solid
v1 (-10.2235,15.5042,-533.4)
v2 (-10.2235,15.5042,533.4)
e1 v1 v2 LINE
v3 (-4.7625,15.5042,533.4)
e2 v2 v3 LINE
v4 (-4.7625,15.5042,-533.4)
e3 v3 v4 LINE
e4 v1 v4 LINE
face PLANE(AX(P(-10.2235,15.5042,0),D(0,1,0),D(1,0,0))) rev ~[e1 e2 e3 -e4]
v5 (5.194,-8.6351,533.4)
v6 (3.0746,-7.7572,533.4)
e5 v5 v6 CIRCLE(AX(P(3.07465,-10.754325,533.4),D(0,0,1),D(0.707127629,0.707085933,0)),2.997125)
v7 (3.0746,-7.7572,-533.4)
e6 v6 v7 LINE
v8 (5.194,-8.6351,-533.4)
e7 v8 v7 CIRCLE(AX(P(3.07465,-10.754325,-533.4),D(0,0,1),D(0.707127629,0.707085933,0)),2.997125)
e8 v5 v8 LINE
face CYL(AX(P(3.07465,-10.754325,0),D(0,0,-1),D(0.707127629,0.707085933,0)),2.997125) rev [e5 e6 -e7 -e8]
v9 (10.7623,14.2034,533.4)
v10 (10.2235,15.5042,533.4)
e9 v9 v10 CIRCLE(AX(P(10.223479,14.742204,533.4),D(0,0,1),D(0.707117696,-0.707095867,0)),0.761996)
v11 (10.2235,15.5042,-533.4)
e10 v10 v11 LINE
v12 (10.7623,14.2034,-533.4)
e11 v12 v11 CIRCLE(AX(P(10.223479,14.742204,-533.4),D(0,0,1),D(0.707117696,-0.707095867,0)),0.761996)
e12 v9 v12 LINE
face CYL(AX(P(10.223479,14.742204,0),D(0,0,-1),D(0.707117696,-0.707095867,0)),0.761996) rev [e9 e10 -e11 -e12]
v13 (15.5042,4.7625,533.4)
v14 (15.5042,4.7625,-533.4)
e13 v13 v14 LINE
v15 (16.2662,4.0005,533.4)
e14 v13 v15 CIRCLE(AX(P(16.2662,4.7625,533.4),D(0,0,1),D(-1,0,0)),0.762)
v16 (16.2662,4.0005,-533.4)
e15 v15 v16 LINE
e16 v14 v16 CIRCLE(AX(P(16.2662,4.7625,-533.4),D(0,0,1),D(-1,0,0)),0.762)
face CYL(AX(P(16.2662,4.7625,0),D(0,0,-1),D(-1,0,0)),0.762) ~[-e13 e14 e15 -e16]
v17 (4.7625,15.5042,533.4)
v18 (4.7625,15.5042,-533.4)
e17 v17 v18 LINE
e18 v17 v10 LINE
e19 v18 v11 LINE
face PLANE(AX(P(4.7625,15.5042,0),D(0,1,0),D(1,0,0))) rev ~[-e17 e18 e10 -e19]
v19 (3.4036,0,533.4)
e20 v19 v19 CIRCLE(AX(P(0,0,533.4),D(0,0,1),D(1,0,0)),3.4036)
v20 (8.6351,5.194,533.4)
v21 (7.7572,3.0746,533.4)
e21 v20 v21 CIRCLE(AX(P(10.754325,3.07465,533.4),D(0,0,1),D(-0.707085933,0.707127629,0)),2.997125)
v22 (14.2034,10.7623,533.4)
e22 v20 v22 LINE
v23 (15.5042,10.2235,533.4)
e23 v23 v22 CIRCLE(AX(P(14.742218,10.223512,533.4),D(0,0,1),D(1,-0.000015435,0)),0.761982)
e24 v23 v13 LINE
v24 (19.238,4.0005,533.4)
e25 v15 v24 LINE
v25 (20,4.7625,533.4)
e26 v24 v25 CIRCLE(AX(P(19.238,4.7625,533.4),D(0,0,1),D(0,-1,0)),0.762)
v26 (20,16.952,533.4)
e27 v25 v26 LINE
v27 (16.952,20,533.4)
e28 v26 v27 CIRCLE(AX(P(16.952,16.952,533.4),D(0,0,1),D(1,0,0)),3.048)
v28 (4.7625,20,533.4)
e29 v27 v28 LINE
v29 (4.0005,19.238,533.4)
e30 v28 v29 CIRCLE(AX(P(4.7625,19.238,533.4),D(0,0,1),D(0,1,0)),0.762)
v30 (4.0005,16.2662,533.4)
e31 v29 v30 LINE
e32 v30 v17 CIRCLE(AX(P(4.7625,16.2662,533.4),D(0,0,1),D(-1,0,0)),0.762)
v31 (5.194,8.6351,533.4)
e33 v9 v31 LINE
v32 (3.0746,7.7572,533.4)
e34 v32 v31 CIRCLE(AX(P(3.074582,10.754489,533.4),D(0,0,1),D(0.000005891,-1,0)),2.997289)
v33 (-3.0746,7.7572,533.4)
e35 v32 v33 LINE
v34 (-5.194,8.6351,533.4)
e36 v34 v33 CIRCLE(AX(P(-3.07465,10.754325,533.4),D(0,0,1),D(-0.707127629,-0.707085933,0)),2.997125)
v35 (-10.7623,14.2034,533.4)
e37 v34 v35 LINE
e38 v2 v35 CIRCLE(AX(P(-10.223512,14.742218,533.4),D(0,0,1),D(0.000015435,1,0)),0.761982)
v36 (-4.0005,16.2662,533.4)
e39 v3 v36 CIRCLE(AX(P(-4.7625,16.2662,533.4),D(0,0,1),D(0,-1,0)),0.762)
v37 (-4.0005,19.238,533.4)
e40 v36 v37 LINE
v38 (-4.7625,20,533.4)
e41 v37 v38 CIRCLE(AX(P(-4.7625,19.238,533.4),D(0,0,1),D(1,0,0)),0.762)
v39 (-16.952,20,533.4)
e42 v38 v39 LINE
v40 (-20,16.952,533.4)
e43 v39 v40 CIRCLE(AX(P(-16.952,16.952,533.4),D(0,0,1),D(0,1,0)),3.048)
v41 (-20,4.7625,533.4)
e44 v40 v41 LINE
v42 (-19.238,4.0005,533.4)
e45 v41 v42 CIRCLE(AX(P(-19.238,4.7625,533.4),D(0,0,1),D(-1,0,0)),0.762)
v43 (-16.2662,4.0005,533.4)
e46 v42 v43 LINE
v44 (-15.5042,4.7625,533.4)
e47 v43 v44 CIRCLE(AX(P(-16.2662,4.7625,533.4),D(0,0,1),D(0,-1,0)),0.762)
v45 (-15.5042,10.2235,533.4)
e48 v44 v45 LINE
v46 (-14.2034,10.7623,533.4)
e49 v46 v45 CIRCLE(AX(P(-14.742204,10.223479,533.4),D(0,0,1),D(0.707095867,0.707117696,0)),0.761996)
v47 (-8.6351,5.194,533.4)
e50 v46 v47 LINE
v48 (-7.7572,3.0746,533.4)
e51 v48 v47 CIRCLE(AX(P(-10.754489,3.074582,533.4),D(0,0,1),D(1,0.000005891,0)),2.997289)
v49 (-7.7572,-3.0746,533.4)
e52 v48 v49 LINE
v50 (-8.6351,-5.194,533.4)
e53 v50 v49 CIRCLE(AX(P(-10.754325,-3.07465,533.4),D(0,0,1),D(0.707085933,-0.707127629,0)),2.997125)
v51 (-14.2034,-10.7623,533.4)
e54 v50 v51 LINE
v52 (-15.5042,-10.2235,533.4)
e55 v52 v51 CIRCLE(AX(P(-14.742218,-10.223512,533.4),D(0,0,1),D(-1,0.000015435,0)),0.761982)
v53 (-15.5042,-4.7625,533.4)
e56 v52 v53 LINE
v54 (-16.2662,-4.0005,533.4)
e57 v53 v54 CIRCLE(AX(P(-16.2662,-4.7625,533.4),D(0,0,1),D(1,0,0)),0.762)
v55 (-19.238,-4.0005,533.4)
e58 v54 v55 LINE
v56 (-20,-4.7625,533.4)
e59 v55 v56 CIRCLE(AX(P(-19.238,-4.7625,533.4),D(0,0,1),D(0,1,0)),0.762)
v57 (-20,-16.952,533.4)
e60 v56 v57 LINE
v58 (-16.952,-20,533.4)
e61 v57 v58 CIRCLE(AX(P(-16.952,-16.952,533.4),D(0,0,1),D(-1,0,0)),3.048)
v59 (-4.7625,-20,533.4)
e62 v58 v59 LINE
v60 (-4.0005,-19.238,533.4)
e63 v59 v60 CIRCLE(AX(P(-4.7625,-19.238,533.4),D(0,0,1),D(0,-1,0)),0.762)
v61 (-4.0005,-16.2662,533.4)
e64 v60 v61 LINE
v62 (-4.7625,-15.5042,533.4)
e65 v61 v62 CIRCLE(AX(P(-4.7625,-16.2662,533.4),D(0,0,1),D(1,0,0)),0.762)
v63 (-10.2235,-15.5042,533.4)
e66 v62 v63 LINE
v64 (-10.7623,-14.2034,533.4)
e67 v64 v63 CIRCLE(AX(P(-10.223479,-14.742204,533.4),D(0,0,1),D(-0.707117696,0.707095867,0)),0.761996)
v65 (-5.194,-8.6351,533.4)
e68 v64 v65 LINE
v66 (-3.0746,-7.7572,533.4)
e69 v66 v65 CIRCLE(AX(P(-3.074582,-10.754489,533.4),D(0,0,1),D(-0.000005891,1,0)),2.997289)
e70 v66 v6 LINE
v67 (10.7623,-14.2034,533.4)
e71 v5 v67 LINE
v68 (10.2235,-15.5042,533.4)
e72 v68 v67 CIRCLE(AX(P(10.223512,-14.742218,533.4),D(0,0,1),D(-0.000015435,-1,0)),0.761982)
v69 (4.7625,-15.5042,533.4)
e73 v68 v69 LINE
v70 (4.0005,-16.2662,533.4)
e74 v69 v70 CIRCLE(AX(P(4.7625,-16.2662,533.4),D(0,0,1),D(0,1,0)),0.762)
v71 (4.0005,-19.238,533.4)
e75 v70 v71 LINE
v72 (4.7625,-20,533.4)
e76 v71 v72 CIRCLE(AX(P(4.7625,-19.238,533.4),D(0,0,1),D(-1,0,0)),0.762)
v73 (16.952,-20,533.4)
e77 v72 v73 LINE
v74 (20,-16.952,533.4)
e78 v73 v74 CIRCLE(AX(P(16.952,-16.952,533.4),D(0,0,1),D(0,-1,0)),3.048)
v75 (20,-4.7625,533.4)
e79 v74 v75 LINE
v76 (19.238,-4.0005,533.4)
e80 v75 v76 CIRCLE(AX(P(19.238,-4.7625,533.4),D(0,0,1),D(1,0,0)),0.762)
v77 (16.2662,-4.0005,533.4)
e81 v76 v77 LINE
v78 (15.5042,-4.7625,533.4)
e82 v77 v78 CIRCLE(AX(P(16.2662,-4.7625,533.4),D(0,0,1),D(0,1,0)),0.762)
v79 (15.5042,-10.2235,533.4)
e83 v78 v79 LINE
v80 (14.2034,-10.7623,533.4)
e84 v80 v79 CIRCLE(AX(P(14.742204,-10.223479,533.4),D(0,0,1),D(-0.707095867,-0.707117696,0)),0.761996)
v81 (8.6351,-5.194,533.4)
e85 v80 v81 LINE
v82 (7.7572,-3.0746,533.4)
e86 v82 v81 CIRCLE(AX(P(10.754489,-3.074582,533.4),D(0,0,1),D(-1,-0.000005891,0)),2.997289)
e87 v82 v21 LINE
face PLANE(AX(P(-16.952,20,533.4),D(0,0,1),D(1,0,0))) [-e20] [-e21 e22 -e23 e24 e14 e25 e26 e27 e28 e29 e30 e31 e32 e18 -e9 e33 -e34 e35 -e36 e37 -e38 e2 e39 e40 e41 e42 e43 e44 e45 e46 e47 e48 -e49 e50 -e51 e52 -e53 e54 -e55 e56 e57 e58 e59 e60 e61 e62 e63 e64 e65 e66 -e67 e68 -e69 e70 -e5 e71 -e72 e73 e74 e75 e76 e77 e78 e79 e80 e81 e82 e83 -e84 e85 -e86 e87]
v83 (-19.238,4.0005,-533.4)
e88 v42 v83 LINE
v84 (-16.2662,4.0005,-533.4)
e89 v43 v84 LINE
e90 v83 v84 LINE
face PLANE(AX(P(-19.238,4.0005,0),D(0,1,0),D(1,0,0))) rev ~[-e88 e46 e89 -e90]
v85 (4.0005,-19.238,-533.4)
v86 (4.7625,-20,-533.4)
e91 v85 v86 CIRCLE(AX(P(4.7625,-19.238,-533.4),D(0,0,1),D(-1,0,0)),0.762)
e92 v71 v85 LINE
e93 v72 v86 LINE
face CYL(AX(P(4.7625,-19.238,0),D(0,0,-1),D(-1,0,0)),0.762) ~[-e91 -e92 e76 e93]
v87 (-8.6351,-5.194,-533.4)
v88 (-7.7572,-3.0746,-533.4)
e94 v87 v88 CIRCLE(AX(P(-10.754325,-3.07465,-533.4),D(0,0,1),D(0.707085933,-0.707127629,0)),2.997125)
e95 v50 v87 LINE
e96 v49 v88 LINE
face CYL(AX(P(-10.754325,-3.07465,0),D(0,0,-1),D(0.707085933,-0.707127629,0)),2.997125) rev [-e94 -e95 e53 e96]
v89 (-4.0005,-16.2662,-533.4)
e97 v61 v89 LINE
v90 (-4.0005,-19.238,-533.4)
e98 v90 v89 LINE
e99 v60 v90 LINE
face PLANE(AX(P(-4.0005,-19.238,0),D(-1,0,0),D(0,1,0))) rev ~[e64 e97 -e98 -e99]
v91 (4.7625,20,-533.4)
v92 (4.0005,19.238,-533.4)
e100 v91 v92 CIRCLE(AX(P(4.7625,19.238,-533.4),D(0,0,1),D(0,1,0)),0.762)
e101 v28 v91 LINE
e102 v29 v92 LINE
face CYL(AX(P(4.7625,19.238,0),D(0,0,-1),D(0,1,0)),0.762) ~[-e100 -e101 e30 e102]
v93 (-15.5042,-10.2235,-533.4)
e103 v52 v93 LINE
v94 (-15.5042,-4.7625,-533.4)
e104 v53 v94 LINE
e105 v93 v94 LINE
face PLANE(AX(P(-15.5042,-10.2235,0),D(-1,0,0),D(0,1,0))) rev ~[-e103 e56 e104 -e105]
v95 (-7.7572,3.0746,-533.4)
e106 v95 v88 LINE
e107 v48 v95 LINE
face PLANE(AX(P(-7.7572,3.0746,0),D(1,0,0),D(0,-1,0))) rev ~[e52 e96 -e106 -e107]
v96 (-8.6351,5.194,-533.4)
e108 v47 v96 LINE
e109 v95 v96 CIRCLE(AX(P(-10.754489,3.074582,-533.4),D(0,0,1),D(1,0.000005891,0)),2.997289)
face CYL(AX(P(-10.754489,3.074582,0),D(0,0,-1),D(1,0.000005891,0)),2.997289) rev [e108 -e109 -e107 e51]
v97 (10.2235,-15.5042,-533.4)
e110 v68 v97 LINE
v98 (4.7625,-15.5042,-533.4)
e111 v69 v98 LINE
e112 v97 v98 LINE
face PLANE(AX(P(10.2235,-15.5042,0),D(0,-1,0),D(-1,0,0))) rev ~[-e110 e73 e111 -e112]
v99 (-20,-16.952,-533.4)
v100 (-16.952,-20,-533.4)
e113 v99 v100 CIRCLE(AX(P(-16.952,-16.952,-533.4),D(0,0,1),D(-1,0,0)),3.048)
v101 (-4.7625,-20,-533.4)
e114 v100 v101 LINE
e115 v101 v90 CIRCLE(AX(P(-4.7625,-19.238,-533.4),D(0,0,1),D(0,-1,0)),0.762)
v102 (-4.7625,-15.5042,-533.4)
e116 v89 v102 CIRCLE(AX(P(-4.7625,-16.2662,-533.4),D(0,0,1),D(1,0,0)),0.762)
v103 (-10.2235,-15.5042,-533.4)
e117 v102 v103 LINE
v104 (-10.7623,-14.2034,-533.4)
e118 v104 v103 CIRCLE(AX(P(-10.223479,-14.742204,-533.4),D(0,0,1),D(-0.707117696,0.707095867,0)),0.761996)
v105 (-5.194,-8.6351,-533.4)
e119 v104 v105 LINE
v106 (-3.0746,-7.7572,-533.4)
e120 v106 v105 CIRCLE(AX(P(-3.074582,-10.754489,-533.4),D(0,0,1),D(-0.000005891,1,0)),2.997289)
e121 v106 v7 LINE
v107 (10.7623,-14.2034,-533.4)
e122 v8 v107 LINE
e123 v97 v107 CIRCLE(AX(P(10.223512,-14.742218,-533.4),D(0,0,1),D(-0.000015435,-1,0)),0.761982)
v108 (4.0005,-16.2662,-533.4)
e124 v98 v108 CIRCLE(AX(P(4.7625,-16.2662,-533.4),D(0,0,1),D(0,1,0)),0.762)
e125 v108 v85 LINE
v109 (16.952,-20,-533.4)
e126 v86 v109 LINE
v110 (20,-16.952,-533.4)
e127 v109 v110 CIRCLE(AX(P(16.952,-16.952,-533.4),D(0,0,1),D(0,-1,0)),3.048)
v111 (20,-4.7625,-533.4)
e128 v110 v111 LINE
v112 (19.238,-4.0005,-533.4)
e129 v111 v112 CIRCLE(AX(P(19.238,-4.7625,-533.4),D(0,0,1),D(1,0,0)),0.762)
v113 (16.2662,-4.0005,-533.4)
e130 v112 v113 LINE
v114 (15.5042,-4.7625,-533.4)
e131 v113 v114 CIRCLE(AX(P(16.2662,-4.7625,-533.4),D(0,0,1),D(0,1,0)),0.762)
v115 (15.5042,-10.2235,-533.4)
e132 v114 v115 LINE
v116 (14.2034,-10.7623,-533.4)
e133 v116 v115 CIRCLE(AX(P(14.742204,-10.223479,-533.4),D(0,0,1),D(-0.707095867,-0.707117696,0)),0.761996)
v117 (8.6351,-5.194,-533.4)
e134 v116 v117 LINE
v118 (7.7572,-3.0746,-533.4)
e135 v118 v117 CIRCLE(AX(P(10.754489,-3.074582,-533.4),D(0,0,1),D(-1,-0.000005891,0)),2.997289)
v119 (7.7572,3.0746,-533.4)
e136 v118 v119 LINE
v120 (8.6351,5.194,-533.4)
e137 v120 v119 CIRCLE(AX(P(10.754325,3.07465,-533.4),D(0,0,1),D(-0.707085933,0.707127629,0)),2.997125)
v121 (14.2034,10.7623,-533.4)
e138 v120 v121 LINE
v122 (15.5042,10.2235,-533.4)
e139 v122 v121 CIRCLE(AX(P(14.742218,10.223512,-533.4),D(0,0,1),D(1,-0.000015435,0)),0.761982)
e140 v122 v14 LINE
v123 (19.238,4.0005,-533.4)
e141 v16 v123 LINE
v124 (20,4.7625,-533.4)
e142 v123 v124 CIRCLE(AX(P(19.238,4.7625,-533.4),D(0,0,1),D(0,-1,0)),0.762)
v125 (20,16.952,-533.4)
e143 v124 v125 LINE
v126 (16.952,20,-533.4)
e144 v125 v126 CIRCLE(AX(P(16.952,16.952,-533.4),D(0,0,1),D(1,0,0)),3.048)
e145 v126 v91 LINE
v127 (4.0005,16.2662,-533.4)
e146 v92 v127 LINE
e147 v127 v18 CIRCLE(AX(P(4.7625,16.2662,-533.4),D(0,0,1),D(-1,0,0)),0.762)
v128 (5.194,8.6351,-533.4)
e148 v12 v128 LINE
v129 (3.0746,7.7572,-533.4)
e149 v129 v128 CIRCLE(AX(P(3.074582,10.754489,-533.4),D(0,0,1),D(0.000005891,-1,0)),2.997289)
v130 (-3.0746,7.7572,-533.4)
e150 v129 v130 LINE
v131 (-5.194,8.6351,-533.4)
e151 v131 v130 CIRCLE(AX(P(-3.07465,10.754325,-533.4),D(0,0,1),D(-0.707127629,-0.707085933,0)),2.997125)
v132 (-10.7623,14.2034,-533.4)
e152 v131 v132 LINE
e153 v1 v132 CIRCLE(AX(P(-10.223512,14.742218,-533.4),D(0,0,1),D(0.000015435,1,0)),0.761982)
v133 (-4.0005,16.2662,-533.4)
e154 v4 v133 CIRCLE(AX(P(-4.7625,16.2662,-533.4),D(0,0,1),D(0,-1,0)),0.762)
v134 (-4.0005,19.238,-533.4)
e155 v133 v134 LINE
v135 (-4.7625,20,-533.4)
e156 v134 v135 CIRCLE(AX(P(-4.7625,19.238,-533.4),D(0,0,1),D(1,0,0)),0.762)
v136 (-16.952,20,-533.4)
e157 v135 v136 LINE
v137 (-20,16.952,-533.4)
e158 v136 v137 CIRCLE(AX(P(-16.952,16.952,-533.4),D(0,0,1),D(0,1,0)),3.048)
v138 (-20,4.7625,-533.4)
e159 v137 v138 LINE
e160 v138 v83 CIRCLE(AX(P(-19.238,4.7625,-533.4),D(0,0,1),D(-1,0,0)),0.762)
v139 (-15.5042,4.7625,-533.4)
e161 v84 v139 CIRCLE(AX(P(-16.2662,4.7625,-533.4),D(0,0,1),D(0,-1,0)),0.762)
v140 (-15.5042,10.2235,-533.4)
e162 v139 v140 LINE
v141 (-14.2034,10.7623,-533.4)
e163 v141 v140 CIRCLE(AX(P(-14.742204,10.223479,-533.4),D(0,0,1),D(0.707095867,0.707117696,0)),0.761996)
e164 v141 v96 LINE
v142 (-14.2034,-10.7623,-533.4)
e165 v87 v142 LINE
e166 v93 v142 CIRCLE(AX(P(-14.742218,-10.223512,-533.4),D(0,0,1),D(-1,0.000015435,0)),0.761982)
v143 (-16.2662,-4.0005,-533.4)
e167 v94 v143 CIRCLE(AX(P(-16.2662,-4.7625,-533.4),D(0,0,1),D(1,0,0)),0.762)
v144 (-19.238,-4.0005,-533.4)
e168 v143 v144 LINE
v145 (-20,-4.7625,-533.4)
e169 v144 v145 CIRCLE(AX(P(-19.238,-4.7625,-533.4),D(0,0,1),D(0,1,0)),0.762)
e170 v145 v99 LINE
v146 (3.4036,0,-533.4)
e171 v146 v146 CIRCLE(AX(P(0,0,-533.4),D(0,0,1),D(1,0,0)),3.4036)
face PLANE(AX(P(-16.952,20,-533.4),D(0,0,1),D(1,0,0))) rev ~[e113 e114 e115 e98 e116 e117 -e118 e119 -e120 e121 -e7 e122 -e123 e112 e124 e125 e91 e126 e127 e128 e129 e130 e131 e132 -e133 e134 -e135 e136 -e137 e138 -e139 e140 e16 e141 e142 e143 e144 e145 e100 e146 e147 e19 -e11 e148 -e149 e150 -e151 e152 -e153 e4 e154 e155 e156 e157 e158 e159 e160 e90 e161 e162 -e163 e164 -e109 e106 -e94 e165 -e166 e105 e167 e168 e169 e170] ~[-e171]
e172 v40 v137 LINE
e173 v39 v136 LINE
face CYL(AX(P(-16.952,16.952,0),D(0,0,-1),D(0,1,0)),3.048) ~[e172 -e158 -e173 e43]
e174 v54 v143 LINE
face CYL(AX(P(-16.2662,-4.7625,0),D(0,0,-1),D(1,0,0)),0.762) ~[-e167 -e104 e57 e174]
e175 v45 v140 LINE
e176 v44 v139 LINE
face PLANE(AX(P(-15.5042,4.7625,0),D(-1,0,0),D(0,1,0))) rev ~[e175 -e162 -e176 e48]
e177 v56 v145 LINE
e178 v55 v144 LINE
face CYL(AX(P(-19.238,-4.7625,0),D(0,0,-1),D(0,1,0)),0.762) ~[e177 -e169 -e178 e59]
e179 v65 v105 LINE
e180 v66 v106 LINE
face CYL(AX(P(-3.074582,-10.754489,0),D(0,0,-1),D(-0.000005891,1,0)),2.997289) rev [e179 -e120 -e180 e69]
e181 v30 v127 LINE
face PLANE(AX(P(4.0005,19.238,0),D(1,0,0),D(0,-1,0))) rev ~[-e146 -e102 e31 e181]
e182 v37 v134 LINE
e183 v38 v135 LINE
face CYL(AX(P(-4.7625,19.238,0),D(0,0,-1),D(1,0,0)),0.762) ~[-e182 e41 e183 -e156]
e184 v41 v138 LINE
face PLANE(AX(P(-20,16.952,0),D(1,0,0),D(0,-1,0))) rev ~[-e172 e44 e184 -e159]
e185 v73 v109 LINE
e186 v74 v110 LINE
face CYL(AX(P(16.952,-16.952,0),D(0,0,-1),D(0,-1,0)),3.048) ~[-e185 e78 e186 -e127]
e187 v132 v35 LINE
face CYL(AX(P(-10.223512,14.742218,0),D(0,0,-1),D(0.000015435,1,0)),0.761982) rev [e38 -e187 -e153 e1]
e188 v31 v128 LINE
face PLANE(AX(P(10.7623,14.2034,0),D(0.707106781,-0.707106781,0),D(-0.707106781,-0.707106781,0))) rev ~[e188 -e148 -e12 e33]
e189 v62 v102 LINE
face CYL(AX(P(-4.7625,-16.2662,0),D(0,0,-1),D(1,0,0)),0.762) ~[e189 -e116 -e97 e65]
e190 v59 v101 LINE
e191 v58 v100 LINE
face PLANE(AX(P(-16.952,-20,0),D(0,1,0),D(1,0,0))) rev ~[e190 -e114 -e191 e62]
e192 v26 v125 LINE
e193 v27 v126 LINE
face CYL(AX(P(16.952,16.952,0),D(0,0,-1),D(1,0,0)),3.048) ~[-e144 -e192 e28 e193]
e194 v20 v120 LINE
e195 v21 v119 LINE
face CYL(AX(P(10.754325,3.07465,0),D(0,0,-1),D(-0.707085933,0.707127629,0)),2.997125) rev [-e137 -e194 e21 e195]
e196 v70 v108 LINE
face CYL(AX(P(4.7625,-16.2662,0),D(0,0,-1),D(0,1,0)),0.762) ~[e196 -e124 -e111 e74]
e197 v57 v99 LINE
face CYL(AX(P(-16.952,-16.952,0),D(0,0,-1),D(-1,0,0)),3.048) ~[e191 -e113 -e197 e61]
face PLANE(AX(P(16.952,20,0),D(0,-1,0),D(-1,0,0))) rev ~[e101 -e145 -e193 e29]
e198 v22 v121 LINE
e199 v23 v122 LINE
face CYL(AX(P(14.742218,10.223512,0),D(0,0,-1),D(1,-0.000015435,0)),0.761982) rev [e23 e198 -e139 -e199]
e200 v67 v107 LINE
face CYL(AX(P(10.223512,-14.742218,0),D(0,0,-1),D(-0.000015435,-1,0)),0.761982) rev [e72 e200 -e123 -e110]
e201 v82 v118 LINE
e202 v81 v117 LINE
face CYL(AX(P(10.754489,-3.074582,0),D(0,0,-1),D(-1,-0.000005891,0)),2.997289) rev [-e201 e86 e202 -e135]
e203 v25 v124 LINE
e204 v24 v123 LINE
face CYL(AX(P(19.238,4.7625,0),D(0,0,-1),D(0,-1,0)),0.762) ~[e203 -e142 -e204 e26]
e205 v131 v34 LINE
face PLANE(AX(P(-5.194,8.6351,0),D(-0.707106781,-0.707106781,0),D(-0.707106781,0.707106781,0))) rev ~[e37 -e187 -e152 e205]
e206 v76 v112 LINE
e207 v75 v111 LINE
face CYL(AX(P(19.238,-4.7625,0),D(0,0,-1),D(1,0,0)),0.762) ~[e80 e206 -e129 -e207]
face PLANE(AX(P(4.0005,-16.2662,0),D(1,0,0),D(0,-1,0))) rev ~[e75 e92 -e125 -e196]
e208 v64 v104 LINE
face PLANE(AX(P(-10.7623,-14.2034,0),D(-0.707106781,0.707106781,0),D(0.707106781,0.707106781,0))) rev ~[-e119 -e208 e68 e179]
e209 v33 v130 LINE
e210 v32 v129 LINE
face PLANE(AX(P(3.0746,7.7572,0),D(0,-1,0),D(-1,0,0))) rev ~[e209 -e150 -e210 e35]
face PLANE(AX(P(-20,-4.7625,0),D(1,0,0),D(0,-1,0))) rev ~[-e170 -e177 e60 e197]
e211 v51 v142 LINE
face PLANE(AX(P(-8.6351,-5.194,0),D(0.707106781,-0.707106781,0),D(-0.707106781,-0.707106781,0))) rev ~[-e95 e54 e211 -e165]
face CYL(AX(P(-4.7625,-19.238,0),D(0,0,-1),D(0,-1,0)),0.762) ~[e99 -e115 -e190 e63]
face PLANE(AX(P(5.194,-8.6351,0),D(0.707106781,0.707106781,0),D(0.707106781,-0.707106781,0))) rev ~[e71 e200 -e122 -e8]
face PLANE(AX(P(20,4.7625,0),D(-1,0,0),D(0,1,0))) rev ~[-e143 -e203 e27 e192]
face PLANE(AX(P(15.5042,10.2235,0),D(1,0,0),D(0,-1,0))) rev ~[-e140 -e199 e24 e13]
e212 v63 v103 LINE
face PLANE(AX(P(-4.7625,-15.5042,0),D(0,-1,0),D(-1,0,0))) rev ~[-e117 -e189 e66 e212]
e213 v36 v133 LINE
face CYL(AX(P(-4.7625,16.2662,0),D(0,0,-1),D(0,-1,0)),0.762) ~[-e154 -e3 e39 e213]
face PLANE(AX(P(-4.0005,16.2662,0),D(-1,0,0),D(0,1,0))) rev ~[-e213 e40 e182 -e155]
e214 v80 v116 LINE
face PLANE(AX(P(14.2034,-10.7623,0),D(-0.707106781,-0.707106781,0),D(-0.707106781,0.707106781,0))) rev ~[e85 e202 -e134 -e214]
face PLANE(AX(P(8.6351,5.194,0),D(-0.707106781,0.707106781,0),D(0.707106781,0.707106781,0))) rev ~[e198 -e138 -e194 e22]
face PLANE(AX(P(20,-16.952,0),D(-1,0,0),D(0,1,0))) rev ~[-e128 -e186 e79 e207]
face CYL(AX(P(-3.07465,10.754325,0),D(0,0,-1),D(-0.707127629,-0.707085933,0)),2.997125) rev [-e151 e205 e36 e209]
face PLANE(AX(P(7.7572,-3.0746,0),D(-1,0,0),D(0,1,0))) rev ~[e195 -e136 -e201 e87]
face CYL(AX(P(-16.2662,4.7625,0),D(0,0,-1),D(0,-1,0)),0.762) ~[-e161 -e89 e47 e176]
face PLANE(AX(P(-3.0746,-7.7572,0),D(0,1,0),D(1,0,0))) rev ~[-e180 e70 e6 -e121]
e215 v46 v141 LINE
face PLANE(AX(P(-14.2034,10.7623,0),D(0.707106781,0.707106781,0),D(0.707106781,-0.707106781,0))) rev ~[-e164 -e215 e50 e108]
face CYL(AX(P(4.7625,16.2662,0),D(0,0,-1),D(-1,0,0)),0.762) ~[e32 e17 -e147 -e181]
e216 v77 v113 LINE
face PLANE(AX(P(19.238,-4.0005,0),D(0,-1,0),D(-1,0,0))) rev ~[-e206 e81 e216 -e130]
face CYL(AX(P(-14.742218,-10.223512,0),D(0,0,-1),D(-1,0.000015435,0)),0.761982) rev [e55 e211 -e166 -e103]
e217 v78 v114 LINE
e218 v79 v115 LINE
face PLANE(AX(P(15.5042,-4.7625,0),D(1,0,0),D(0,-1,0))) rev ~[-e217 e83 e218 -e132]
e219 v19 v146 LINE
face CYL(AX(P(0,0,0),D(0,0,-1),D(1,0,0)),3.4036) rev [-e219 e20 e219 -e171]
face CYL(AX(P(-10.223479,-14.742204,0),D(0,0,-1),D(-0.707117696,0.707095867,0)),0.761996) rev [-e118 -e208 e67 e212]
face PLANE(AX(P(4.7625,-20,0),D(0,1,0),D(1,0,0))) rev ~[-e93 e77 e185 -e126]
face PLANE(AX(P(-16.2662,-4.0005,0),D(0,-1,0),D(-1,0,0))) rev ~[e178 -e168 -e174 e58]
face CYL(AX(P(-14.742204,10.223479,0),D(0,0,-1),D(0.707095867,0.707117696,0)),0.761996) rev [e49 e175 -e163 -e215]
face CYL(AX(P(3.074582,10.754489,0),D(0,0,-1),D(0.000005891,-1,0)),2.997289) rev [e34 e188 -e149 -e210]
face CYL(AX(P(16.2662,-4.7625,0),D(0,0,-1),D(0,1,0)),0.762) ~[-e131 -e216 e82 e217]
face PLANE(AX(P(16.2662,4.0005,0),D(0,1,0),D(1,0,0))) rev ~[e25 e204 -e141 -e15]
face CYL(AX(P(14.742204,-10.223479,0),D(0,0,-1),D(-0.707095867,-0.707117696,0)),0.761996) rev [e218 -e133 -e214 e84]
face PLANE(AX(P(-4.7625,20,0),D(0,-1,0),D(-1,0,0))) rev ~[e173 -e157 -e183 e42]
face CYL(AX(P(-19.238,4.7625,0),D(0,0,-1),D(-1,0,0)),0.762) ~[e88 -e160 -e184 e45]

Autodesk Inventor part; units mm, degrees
ref_plane "YZ Plane" through (0, 0, 0) normal (1, 0, 0) x (0, 1, 0)
ref_plane "XZ Plane" through (0, 0, 0) normal (0, 1, 0) x (-1, 0, 0)
ref_plane "XY Plane" through (0, 0, 0) normal (0, 0, 1) x (1, 0, 0)
sketch "Sketch1" plane through (-16.952, 20, 0) normal (0, 0, 1) x (1, 0, 0)
  arc A0 (11.758, -11.3649) -> (13.8774, -12.2428) centre (13.8774, -9.2456) ccw projected
  line L0 (11.758, -11.3649) -> (6.1897, -5.7966) projected
  arc A1 (6.7285, -4.4958) -> (6.1897, -5.7966) centre (6.7285, -5.2578) ccw projected
  line L1 (6.7285, -4.4958) -> (12.1895, -4.4958) projected
  arc A2 (12.1895, -4.4958) -> (12.9515, -3.7338) centre (12.1895, -3.7338) ccw projected
  line L2 (12.9515, -3.7338) -> (12.9515, -0.762) projected
  arc A3 (12.9515, -0.762) -> (12.1895, 0) centre (12.1895, -0.762) ccw projected
  line L3 (12.1895, 0) -> (0, 0) projected
  arc A4 (0, 0) -> (-3.048, -3.048) centre (0, -3.048) ccw projected
  line L4 (-3.048, -3.048) -> (-3.048, -15.2375) projected
  arc A5 (-3.048, -15.2375) -> (-2.286, -15.9995) centre (-2.286, -15.2375) ccw projected
  line L5 (-2.286, -15.9995) -> (0.6858, -15.9995) projected
  arc A6 (0.6858, -15.9995) -> (1.4478, -15.2375) centre (0.6858, -15.2375) ccw projected
  line L6 (1.4478, -15.2375) -> (1.4478, -9.7765) projected
  arc A7 (2.7486, -9.2377) -> (1.4478, -9.7765) centre (2.2098, -9.7765) ccw projected
  line L7 (2.7486, -9.2377) -> (8.3169, -14.806) projected
  arc A8 (9.1948, -16.9254) -> (8.3169, -14.806) centre (6.1976, -16.9254) ccw projected
  line L8 (9.1948, -16.9254) -> (9.1948, -23.0746) projected
  arc A9 (8.3169, -25.194) -> (9.1948, -23.0746) centre (6.1976, -23.0746) ccw projected
  line L9 (8.3169, -25.194) -> (2.7486, -30.7623) projected
  arc A10 (1.4478, -30.2235) -> (2.7486, -30.7623) centre (2.2098, -30.2235) ccw projected
  line L10 (1.4478, -30.2235) -> (1.4478, -24.7625) projected
  arc A11 (1.4478, -24.7625) -> (0.6858, -24.0005) centre (0.6858, -24.7625) ccw projected
  line L11 (0.6858, -24.0005) -> (-2.286, -24.0005) projected
  arc A12 (-2.286, -24.0005) -> (-3.048, -24.7625) centre (-2.286, -24.7625) ccw projected
  line L12 (-3.048, -24.7625) -> (-3.048, -36.952) projected
  arc A13 (-3.048, -36.952) -> (0, -40) centre (0, -36.952) ccw projected
  line L13 (0, -40) -> (12.1895, -40) projected
  arc A14 (12.1895, -40) -> (12.9515, -39.238) centre (12.1895, -39.238) ccw projected
  line L14 (12.9515, -39.238) -> (12.9515, -36.2662) projected
  arc A15 (12.9515, -36.2662) -> (12.1895, -35.5042) centre (12.1895, -36.2662) ccw projected
  line L15 (12.1895, -35.5042) -> (6.7285, -35.5042) projected
  arc A16 (6.1897, -34.2034) -> (6.7285, -35.5042) centre (6.7285, -34.7422) ccw projected
  line L16 (6.1897, -34.2034) -> (11.758, -28.6351) projected
  arc A17 (13.8774, -27.7572) -> (11.758, -28.6351) centre (13.8774, -30.7544) ccw projected
  line L17 (13.8774, -27.7572) -> (20.0266, -27.7572) projected
  arc A18 (22.146, -28.6351) -> (20.0266, -27.7572) centre (20.0266, -30.7544) ccw projected
  line L18 (22.146, -28.6351) -> (27.7143, -34.2034) projected
  arc A19 (27.1755, -35.5042) -> (27.7143, -34.2034) centre (27.1755, -34.7422) ccw projected
  line L19 (27.1755, -35.5042) -> (21.7145, -35.5042) projected
  arc A20 (21.7145, -35.5042) -> (20.9525, -36.2662) centre (21.7145, -36.2662) ccw projected
  line L20 (20.9525, -36.2662) -> (20.9525, -39.238) projected
  arc A21 (20.9525, -39.238) -> (21.7145, -40) centre (21.7145, -39.238) ccw projected
  line L21 (21.7145, -40) -> (33.904, -40) projected
  arc A22 (33.904, -40) -> (36.952, -36.952) centre (33.904, -36.952) ccw projected
  line L22 (36.952, -36.952) -> (36.952, -24.7625) projected
  arc A23 (36.952, -24.7625) -> (36.19, -24.0005) centre (36.19, -24.7625) ccw projected
  line L23 (36.19, -24.0005) -> (33.2182, -24.0005) projected
  arc A24 (33.2182, -24.0005) -> (32.4562, -24.7625) centre (33.2182, -24.7625) ccw projected
  line L24 (32.4562, -24.7625) -> (32.4562, -30.2235) projected
  arc A25 (31.1554, -30.7623) -> (32.4562, -30.2235) centre (31.6942, -30.2235) ccw projected
  line L25 (31.1554, -30.7623) -> (25.5871, -25.194) projected
  arc A26 (24.7092, -23.0746) -> (25.5871, -25.194) centre (27.7064, -23.0746) ccw projected
  line L26 (24.7092, -23.0746) -> (24.7092, -16.9254) projected
  arc A27 (25.5871, -14.806) -> (24.7092, -16.9254) centre (27.7064, -16.9254) ccw projected
  line L27 (25.5871, -14.806) -> (31.1554, -9.2377) projected
  arc A28 (32.4562, -9.7765) -> (31.1554, -9.2377) centre (31.6942, -9.7765) ccw projected
  line L28 (32.4562, -9.7765) -> (32.4562, -15.2375) projected
  arc A29 (32.4562, -15.2375) -> (33.2182, -15.9995) centre (33.2182, -15.2375) ccw projected
  line L29 (33.2182, -15.9995) -> (36.19, -15.9995) projected
  arc A30 (36.19, -15.9995) -> (36.952, -15.2375) centre (36.19, -15.2375) ccw projected
  line L30 (36.952, -15.2375) -> (36.952, -3.048) projected
  arc A31 (36.952, -3.048) -> (33.904, 0) centre (33.904, -3.048) ccw projected
  line L31 (33.904, 0) -> (21.7145, 0) projected
  arc A32 (21.7145, 0) -> (20.9525, -0.762) centre (21.7145, -0.762) ccw projected
  line L32 (20.9525, -0.762) -> (20.9525, -3.7338) projected
  arc A33 (20.9525, -3.7338) -> (21.7145, -4.4958) centre (21.7145, -3.7338) ccw projected
  line L33 (21.7145, -4.4958) -> (27.1755, -4.4958) projected
  arc A34 (27.7143, -5.7966) -> (27.1755, -4.4958) centre (27.1755, -5.2578) ccw projected
  line L34 (27.7143, -5.7966) -> (22.146, -11.3649) projected
  arc A35 (20.0266, -12.2428) -> (22.146, -11.3649) centre (20.0266, -9.2456) ccw projected
  line L35 (20.0266, -12.2428) -> (13.8774, -12.2428) projected
  circle A36 centre (16.952, -20) radius 3.4036 projected
extrude "Extrusion1" add sketch "Sketch1" along normal mid plane 1066.8
